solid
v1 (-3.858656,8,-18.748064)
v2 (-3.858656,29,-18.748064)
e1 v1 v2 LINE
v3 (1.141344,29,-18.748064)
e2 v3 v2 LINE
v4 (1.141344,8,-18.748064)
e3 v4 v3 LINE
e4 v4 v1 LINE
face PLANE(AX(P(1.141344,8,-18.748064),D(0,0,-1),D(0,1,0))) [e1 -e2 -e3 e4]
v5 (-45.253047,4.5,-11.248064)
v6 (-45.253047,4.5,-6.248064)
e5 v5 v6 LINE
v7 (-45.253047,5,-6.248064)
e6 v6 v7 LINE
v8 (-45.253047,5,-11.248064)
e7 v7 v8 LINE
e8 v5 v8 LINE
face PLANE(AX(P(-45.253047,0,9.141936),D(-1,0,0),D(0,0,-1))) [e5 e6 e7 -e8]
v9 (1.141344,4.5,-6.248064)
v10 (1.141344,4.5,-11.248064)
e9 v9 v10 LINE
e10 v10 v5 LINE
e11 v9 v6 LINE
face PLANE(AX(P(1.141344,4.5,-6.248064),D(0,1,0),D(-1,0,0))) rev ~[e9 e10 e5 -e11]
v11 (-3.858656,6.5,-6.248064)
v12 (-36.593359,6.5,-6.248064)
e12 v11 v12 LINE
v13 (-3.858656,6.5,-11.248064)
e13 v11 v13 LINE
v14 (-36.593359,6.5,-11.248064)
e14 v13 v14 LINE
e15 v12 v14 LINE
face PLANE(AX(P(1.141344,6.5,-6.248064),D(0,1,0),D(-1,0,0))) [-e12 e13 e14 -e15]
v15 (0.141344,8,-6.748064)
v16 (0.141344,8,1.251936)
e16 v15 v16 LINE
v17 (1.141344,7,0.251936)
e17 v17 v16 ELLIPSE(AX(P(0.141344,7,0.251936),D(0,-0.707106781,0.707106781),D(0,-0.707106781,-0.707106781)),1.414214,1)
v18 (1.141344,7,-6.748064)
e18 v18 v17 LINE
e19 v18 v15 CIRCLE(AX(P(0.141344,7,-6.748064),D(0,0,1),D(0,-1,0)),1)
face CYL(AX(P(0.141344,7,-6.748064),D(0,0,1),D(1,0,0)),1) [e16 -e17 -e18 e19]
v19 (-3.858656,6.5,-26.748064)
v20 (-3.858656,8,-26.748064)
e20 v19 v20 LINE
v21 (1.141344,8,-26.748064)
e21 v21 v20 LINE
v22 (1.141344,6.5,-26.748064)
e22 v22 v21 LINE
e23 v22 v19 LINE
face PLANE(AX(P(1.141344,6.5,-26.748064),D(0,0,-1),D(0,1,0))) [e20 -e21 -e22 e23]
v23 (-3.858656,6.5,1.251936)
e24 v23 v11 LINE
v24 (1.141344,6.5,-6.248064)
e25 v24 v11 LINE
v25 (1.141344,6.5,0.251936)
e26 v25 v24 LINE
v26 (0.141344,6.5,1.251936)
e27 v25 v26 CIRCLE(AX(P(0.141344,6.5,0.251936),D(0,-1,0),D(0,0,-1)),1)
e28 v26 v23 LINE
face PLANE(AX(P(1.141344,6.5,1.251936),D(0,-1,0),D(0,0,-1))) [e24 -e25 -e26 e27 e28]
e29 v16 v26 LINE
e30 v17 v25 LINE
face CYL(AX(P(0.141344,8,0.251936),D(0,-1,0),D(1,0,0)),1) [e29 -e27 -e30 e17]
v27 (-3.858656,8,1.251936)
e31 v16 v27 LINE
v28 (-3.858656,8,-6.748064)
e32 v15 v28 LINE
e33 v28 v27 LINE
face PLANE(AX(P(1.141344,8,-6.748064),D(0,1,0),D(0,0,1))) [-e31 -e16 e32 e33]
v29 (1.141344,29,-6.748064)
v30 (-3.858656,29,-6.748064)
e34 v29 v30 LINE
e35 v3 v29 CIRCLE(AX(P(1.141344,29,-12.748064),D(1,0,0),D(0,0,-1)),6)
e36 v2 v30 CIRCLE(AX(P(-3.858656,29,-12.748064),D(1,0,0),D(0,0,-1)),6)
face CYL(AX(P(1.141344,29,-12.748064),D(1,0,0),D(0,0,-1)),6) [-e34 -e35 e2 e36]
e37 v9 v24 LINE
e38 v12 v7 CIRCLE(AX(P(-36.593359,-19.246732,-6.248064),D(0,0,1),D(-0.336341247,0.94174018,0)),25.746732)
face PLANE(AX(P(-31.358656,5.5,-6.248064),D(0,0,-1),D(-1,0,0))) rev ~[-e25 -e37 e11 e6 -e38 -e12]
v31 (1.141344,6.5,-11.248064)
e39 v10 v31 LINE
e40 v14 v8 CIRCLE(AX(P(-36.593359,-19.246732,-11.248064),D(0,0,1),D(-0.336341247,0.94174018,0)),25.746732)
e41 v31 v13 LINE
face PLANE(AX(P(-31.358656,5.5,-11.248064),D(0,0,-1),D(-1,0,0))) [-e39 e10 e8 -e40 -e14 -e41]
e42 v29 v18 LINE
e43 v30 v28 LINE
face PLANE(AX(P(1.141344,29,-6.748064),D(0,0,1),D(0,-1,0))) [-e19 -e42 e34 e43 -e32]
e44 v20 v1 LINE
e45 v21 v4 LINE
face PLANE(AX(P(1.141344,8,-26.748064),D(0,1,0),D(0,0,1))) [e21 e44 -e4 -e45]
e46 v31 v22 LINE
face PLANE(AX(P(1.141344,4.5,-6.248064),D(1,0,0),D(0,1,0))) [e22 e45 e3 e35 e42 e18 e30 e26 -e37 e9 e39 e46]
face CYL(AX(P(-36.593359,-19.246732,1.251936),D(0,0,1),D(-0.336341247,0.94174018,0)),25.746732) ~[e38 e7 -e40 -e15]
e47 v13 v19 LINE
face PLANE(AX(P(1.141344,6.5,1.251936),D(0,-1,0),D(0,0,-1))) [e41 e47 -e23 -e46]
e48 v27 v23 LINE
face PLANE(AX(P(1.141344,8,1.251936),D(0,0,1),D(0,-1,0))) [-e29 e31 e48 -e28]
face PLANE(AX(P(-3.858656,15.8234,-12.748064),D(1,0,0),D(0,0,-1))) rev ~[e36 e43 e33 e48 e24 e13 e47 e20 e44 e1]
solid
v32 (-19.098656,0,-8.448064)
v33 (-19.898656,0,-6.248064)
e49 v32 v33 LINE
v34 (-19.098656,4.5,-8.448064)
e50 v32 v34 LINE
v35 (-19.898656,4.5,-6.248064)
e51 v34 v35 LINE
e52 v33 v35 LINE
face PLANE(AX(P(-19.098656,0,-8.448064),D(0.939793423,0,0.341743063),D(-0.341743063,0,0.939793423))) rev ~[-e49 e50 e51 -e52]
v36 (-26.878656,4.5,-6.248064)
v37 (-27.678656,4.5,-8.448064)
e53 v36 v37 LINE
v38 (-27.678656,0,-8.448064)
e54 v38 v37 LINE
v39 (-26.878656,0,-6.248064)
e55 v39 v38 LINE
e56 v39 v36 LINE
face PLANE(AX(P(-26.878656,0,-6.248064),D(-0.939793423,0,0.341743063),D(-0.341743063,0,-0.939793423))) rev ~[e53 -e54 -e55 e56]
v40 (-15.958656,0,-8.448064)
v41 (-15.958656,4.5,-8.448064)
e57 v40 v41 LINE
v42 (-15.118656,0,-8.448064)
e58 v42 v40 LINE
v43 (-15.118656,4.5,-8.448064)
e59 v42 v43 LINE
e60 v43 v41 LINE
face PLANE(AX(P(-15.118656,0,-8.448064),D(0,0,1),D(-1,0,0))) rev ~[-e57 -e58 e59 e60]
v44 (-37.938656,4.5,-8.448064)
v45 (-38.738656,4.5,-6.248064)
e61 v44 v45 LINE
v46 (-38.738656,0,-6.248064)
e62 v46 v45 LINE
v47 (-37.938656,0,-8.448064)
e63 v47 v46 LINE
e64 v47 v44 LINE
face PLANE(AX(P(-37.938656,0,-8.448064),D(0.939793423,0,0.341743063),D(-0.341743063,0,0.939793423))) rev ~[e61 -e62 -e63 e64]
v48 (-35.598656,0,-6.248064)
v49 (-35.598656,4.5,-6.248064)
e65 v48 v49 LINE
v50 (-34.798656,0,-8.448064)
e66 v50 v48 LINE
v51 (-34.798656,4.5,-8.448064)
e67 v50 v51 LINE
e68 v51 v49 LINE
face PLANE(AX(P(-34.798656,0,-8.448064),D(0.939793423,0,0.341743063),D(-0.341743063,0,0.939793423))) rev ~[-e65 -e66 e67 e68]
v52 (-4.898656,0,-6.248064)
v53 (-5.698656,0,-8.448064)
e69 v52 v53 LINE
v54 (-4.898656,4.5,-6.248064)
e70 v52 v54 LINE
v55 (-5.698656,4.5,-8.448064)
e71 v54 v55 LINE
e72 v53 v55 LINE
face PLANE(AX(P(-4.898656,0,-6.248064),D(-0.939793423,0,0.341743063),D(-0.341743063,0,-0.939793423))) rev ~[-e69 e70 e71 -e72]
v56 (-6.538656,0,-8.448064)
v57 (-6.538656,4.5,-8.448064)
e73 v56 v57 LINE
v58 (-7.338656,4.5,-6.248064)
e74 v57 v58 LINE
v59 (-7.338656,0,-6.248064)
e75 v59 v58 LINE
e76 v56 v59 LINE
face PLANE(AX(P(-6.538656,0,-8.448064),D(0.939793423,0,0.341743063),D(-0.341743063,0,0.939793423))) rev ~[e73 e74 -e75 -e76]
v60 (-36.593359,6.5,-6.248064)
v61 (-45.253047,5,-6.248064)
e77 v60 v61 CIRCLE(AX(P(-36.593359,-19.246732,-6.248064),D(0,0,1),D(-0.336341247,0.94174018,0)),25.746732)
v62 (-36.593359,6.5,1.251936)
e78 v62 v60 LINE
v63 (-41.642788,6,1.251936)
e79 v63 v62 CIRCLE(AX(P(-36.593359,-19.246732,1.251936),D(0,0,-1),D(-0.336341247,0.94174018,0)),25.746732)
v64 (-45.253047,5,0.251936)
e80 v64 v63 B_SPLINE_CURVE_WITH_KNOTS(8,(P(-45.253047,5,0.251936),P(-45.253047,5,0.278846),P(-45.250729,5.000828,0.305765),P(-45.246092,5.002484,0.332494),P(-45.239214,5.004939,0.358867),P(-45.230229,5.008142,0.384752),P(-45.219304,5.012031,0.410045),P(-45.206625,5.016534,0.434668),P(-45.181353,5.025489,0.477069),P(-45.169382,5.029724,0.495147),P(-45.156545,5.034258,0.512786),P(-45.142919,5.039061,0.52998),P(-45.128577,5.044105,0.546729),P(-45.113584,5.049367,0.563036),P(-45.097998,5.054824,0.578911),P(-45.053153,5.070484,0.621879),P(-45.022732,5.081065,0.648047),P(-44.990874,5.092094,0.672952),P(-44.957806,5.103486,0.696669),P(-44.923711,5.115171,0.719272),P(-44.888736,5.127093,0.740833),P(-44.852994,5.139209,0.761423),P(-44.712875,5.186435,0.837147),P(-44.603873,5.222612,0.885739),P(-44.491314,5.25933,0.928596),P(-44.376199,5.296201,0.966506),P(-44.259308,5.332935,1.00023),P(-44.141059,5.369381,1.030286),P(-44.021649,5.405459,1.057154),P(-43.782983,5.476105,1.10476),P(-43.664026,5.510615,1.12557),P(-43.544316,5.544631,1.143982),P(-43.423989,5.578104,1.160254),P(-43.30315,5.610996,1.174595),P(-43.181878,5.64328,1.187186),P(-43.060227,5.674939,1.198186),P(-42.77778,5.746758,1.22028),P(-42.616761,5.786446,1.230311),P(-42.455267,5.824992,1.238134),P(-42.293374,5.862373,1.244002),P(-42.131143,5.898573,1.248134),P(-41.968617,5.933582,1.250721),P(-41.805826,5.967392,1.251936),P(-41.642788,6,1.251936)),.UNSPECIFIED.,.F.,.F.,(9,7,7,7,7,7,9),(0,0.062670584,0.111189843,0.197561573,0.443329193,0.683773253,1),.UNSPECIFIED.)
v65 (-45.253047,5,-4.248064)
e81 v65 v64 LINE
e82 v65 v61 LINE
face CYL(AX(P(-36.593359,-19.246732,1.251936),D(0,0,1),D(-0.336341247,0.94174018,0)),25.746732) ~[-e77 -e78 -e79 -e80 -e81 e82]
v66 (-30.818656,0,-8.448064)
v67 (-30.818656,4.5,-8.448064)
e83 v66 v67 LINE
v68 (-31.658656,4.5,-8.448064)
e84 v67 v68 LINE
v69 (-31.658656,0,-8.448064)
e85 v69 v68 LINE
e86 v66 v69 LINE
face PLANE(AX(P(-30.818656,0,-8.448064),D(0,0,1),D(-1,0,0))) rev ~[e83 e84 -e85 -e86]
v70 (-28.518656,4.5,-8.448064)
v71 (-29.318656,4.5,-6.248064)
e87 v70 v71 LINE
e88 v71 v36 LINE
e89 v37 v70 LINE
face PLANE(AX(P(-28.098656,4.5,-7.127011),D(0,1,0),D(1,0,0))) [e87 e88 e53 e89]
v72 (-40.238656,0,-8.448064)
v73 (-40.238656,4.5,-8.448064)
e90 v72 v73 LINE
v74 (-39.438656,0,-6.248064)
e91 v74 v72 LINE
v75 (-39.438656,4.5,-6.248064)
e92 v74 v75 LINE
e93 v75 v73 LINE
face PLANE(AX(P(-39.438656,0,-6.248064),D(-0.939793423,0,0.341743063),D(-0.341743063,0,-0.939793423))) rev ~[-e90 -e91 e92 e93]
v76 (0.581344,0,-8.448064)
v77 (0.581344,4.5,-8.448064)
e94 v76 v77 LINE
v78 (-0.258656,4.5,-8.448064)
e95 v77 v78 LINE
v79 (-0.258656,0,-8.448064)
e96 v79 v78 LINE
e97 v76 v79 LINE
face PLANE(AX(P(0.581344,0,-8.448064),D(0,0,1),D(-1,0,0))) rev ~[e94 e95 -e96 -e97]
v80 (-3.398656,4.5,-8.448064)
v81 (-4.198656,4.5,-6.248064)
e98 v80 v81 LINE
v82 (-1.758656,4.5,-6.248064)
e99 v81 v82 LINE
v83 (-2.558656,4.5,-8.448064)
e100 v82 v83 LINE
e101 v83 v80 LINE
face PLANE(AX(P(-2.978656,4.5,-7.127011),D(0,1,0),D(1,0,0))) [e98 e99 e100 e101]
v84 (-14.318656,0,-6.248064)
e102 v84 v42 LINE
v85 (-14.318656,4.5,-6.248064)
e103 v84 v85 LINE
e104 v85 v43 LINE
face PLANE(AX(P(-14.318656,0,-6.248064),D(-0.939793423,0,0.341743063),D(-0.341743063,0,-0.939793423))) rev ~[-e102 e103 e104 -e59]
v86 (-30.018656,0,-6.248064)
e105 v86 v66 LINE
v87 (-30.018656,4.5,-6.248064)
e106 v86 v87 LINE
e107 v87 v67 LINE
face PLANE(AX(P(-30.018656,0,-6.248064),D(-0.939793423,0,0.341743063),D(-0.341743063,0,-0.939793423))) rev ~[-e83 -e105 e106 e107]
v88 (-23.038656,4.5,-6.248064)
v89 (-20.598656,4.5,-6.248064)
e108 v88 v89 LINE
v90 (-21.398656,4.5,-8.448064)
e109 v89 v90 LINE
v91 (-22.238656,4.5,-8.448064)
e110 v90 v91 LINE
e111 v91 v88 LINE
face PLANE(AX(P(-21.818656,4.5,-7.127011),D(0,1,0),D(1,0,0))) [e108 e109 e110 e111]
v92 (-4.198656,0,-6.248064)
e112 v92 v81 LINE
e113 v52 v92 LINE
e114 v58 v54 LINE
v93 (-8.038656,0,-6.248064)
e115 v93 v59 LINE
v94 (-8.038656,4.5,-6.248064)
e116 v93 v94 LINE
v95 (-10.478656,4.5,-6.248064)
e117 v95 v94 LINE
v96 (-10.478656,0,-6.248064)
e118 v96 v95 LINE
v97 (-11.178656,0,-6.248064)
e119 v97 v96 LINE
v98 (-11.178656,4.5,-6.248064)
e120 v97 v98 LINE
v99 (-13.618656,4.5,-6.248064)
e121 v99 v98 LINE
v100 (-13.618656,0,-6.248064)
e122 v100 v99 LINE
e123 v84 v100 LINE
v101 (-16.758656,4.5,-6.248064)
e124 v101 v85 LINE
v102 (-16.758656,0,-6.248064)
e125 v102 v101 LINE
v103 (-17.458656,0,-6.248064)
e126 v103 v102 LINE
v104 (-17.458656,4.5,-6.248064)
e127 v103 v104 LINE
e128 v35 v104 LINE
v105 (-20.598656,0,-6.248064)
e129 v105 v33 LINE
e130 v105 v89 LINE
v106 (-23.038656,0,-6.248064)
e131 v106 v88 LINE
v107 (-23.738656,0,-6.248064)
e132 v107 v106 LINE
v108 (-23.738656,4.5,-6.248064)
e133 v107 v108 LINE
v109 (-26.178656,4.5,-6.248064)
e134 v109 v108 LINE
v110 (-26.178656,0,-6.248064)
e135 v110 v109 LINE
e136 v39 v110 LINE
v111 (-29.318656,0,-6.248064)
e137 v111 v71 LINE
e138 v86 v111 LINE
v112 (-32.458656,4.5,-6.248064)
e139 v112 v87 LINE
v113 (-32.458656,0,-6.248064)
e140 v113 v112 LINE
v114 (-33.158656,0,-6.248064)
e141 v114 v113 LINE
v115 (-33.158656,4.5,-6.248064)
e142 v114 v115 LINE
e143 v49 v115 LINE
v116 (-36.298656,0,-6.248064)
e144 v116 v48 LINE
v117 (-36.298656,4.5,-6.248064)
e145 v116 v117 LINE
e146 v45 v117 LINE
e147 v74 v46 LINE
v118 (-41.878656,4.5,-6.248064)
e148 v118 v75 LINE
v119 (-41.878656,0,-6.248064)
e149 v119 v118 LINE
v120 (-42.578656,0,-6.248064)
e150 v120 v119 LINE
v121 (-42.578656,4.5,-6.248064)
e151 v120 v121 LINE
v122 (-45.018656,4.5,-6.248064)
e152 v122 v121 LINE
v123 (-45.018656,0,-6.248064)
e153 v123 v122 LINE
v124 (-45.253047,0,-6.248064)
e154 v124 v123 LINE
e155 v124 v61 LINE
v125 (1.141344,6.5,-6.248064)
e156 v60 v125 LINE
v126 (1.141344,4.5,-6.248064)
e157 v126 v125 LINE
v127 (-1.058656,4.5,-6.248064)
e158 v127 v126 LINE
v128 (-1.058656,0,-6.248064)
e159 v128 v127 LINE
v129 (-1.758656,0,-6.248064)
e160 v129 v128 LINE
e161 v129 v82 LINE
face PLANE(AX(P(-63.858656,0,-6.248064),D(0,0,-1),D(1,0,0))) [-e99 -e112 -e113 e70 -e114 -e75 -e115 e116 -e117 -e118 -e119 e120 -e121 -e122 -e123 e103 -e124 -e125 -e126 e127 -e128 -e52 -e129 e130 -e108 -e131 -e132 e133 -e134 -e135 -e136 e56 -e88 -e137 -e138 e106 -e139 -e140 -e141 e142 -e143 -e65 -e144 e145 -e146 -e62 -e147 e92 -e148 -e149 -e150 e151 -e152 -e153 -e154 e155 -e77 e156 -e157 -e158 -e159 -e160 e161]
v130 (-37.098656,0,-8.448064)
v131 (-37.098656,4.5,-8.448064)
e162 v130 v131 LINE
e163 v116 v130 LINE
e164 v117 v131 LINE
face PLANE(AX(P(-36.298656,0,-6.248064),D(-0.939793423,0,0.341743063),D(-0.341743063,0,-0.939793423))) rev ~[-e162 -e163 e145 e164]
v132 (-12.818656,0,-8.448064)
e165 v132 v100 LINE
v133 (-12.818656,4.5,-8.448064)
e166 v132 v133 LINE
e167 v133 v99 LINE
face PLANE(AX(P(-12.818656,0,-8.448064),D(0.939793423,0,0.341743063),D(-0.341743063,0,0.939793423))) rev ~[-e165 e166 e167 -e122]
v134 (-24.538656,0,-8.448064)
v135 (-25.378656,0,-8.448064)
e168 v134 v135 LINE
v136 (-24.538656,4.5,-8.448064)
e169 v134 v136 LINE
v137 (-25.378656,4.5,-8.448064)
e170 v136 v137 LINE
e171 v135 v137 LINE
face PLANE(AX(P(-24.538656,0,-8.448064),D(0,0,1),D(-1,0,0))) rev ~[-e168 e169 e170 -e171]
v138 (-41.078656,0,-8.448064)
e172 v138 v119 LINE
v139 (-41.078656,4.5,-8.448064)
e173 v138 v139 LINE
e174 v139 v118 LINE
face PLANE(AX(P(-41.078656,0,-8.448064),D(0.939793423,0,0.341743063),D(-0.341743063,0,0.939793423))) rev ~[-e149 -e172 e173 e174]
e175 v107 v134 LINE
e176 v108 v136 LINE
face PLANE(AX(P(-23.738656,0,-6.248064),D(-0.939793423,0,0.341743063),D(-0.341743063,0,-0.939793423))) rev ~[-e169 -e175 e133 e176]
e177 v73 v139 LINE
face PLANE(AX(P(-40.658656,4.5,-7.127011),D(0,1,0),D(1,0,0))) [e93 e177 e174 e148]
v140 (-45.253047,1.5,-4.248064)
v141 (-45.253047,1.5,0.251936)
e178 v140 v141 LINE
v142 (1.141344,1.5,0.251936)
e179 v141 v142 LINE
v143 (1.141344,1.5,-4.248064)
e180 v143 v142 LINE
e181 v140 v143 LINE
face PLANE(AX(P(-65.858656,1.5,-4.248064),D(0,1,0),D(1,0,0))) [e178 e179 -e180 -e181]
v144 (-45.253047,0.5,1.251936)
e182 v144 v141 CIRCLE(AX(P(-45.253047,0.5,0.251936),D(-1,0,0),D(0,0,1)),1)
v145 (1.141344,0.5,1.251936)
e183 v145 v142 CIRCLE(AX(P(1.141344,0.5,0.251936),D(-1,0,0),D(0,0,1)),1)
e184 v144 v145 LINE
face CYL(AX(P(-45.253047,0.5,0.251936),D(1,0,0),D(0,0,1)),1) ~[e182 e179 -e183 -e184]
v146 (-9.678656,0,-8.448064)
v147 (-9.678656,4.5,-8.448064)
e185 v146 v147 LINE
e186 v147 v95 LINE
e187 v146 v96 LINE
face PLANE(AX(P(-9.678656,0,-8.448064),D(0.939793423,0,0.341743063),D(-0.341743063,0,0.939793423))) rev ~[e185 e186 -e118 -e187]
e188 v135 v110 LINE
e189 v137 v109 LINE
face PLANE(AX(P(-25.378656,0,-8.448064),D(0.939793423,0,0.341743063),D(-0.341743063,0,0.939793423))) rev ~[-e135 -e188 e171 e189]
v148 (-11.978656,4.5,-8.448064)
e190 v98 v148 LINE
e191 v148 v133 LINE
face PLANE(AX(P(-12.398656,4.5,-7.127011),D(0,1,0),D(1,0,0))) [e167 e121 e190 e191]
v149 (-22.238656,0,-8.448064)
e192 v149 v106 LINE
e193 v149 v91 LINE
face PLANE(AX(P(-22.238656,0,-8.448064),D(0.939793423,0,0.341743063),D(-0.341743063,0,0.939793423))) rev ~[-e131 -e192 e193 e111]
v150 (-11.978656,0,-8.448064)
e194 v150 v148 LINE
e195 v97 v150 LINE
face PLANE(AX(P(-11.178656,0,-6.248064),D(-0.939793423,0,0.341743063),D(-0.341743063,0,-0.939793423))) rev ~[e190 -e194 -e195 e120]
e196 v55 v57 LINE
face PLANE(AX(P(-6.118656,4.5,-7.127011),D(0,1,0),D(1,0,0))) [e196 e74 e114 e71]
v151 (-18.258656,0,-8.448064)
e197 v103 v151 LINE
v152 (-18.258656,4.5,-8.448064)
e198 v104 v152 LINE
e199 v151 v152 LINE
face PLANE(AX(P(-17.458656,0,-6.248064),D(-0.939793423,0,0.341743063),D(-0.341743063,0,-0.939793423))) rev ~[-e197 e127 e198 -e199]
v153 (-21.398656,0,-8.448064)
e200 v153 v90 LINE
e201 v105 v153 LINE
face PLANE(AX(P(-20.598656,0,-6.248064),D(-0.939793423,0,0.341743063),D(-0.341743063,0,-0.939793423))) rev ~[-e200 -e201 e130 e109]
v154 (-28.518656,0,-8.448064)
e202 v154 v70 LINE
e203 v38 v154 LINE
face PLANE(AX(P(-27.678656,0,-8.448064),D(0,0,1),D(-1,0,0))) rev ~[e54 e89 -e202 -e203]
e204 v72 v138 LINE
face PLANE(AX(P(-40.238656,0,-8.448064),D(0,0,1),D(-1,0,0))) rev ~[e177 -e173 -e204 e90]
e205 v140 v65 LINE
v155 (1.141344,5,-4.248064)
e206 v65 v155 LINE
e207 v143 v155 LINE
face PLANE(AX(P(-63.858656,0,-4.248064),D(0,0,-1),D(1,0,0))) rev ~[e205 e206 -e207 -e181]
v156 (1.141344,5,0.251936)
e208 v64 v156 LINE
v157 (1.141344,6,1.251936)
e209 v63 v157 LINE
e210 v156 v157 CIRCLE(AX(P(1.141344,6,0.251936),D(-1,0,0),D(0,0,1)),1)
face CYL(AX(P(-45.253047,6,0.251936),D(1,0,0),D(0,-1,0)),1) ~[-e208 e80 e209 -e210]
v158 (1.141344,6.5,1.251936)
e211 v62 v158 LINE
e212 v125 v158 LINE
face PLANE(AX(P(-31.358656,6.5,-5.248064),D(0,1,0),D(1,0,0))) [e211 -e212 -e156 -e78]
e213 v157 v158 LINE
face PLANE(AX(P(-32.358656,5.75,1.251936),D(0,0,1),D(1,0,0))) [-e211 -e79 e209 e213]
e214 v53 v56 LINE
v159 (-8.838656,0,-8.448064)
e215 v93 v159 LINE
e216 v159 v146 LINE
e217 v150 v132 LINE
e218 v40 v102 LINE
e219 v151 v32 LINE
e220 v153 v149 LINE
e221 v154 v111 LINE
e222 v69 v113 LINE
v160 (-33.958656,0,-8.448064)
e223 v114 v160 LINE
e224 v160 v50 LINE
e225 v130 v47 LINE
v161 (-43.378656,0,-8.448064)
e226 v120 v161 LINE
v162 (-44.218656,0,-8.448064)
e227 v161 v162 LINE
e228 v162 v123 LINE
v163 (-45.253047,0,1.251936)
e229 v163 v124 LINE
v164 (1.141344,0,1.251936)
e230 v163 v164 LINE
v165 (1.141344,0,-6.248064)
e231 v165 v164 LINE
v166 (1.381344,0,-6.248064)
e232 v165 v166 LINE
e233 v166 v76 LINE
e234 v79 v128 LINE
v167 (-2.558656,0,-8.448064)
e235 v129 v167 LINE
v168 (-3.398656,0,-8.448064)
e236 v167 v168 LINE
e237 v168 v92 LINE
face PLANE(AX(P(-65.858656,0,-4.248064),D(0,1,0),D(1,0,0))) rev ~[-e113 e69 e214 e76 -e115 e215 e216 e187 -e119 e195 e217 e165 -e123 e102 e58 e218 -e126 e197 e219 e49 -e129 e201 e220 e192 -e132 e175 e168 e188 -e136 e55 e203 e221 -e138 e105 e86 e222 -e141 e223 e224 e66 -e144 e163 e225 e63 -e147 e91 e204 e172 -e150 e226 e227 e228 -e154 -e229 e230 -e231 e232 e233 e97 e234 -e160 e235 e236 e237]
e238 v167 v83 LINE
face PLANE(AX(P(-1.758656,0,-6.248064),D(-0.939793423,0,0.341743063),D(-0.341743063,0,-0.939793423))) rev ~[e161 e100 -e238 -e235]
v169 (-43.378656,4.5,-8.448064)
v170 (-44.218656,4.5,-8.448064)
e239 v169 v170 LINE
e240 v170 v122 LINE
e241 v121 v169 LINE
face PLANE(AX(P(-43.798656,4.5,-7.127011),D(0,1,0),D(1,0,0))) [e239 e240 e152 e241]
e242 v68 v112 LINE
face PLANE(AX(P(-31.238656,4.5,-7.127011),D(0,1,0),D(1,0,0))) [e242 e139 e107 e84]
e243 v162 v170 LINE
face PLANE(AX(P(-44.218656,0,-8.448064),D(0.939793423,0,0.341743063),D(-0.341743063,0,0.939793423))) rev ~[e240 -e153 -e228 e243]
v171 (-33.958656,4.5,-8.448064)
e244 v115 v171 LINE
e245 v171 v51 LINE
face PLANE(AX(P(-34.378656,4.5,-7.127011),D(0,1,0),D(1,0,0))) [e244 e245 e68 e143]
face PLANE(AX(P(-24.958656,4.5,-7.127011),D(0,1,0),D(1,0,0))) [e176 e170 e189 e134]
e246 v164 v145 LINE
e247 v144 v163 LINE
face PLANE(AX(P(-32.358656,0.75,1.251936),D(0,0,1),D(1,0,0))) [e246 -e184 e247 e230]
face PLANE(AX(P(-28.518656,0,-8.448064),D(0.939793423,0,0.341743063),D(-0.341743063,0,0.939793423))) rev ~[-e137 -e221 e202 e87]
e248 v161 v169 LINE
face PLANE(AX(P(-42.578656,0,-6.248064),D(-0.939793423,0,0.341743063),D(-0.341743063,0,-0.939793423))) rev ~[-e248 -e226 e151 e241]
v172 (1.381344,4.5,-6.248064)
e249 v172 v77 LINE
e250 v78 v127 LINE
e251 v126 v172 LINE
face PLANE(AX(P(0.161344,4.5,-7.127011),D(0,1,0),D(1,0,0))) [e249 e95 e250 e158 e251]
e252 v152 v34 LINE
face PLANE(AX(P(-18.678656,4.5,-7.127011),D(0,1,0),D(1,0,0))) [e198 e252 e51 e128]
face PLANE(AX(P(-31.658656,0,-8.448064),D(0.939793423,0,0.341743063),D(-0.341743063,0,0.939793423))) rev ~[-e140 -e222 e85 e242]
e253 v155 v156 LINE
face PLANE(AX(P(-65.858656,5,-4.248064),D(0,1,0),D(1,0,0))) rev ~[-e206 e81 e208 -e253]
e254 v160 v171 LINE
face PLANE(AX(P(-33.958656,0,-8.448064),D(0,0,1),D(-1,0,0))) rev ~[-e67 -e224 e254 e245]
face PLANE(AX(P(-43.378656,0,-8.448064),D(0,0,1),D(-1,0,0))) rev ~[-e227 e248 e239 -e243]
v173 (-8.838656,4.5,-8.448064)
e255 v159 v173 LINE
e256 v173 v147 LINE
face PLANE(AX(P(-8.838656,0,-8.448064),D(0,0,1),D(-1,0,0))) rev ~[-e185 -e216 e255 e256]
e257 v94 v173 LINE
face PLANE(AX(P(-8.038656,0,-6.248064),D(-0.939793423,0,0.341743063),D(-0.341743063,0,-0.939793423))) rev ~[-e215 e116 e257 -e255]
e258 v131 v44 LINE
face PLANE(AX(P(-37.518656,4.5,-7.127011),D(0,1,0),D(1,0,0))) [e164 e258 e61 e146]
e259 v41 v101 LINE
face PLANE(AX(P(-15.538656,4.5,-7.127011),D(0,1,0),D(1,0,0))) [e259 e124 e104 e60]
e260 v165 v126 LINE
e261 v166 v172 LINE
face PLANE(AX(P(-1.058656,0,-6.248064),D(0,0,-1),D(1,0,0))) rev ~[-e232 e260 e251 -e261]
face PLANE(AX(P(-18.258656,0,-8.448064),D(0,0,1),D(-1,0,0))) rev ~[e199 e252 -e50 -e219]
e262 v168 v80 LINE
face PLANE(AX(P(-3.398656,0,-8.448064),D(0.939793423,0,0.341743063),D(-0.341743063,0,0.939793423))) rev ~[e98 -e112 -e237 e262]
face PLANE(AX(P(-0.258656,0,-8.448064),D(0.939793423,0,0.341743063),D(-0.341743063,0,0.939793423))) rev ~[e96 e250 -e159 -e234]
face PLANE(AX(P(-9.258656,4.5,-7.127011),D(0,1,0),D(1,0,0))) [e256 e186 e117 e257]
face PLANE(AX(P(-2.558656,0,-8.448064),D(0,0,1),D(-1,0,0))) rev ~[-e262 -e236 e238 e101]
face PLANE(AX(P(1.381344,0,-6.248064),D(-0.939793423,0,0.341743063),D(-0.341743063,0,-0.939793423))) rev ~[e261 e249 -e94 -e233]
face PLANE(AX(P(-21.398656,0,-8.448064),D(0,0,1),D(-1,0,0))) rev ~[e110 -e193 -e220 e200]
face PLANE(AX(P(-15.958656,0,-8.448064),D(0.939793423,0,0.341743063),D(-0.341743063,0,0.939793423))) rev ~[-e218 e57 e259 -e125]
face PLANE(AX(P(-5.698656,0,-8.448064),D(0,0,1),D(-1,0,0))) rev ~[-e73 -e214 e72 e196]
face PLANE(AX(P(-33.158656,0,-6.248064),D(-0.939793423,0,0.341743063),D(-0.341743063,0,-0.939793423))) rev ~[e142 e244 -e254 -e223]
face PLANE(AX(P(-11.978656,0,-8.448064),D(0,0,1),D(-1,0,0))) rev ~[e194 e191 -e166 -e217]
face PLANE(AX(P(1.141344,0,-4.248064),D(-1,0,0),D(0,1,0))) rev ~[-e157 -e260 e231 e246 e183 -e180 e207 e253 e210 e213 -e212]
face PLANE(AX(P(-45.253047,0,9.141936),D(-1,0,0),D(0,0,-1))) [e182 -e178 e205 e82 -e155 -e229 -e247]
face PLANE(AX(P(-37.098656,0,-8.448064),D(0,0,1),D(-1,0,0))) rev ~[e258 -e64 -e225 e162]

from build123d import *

# Parameters (mm, degrees)
SKETCH1_W           = 65
SKETCH1_H           = 2
BOSS_EXTRUDE1_DEPTH = 6.5
BOSS_EXTRUDE2_DEPTH = 4.5
SKETCH5_W           = 67
SKETCH5_H           = 1.5
BOSS_EXTRUDE6_DEPTH = 5.5
BOSS_EXTRUDE7_DEPTH = 5
SKETCH7_W           = 65
SKETCH7_H           = 2
BOSS_EXTRUDE8_DEPTH = 5
SKETCH8_W           = 31.428674942
SKETCH8_H           = 29.09091251
CUT_EXTRUDE1_DEPTH  = 80.232704839
CUT_EXTRUDE2_DEPTH  = 64.693313851
FILLET5_R           = 1
FILLET7_R           = 1


with BuildPart() as part:
    # Sketch1 → Boss-Extrude1 (new body)
    with BuildSketch(Plane(origin=(0, 0, 0), x_dir=(1, 0, 0), z_dir=(0, 1, 0))):
        with Locations((-31.358656154, 5.24806396)):
            Rectangle(SKETCH1_W, SKETCH1_H)
    extrude(amount=BOSS_EXTRUDE1_DEPTH)

    # Sketch2 → Boss-Extrude2 (add)
    with BuildSketch(Plane(origin=(0, 0, 0), x_dir=(1, 0, 0), z_dir=(0, 1, 0))):
        Polygon((-63.058656154, 8.44806396), (-63.858656154, 6.24806396), (-61.418656154, 6.24806396), (-62.218656154, 8.44806396), align=None)
        Polygon((-59.918656154, 8.44806396), (-60.718656154, 6.24806396), (-58.278656154, 6.24806396), (-59.078656154, 8.44806396), align=None)
        Polygon((-56.778656154, 8.44806396), (-57.578656154, 6.24806396), (-55.138656154, 6.24806396), (-55.938656154, 8.44806396), align=None)
        Polygon((-53.638656154, 8.44806396), (-54.438656154, 6.24806396), (-51.998656154, 6.24806396), (-52.798656154, 8.44806396), align=None)
        Polygon((-50.498656154, 8.44806396), (-51.298656154, 6.24806396), (-48.858656154, 6.24806396), (-49.658656154, 8.44806396), align=None)
        Polygon((-47.358656154, 8.44806396), (-48.158656154, 6.24806396), (-45.718656154, 6.24806396), (-46.518656154, 8.44806396), align=None)
        Polygon((-44.218656154, 8.44806396), (-45.018656154, 6.24806396), (-42.578656154, 6.24806396), (-43.378656154, 8.44806396), align=None)
        Polygon((-41.078656154, 8.44806396), (-41.878656154, 6.24806396), (-39.438656154, 6.24806396), (-40.238656154, 8.44806396), align=None)
        Polygon((-37.938656154, 8.44806396), (-38.738656154, 6.24806396), (-36.298656154, 6.24806396), (-37.098656154, 8.44806396), align=None)
        Polygon((-34.798656154, 8.44806396), (-35.598656154, 6.24806396), (-33.158656154, 6.24806396), (-33.958656154, 8.44806396), align=None)
        Polygon((-31.658656154, 8.44806396), (-32.458656154, 6.24806396), (-30.018656154, 6.24806396), (-30.818656154, 8.44806396), align=None)
        Polygon((-29.318656154, 6.24806396), (-26.878656154, 6.24806396), (-27.678656154, 8.44806396), (-28.518656154, 8.44806396), align=None)
        Polygon((-26.178656154, 6.24806396), (-23.738656154, 6.24806396), (-24.538656154, 8.44806396), (-25.378656154, 8.44806396), align=None)
        Polygon((-23.038656154, 6.24806396), (-20.598656154, 6.24806396), (-21.398656154, 8.44806396), (-22.238656154, 8.44806396), align=None)
        Polygon((-19.898656154, 6.24806396), (-17.458656154, 6.24806396), (-18.258656154, 8.44806396), (-19.098656154, 8.44806396), align=None)
        Polygon((-16.758656154, 6.24806396), (-14.318656154, 6.24806396), (-15.118656154, 8.44806396), (-15.958656154, 8.44806396), align=None)
        Polygon((-13.618656154, 6.24806396), (-11.178656154, 6.24806396), (-11.978656154, 8.44806396), (-12.818656154, 8.44806396), align=None)
        Polygon((-10.478656154, 6.24806396), (-8.038656154, 6.24806396), (-8.838656154, 8.44806396), (-9.678656154, 8.44806396), align=None)
        Polygon((-7.338656154, 6.24806396), (-4.898656154, 6.24806396), (-5.698656154, 8.44806396), (-6.538656154, 8.44806396), align=None)
        Polygon((-4.198656154, 6.24806396), (-1.758656154, 6.24806396), (-2.558656154, 8.44806396), (-3.398656154, 8.44806396), align=None)
        Polygon((-3.398656154, 8.44806396), (-4.198656154, 6.24806396), (-1.758656154, 6.24806396), (-2.558656154, 8.44806396), align=None)
        Polygon((-0.258656154, 8.44806396), (-1.058656154, 6.24806396), (1.141343846, 6.24806396), (1.381343846, 6.24806396), (0.581343846, 8.44806396), align=None)
        Polygon((-6.538656154, 8.44806396), (-7.338656154, 6.24806396), (-4.898656154, 6.24806396), (-5.698656154, 8.44806396), align=None)
        Polygon((-9.678656154, 8.44806396), (-10.478656154, 6.24806396), (-8.038656154, 6.24806396), (-8.838656154, 8.44806396), align=None)
        Polygon((-12.818656154, 8.44806396), (-13.618656154, 6.24806396), (-11.178656154, 6.24806396), (-11.978656154, 8.44806396), align=None)
        Polygon((-15.958656154, 8.44806396), (-16.758656154, 6.24806396), (-14.318656154, 6.24806396), (-15.118656154, 8.44806396), align=None)
        Polygon((-19.098656154, 8.44806396), (-19.898656154, 6.24806396), (-17.458656154, 6.24806396), (-18.258656154, 8.44806396), align=None)
        Polygon((-22.238656154, 8.44806396), (-23.038656154, 6.24806396), (-20.598656154, 6.24806396), (-21.398656154, 8.44806396), align=None)
        Polygon((-25.378656154, 8.44806396), (-26.178656154, 6.24806396), (-23.738656154, 6.24806396), (-24.538656154, 8.44806396), align=None)
        Polygon((-28.518656154, 8.44806396), (-29.318656154, 6.24806396), (-26.878656154, 6.24806396), (-27.678656154, 8.44806396), align=None)
    extrude(amount=BOSS_EXTRUDE2_DEPTH)

    # Sketch5 → Boss-Extrude6 (add)
    with BuildSketch(Plane.XY.offset(-4.24806396)):
        with Locations((-32.358656154, 0.75)):
            Rectangle(SKETCH5_W, SKETCH5_H)
        with Locations((-32.358656154, 5.75)):
            Rectangle(SKETCH5_W, SKETCH5_H)
    extrude(amount=BOSS_EXTRUDE6_DEPTH)


with BuildPart() as body_2:
    # Sketch6 → Boss-Extrude7 (new body)
    with BuildSketch(Plane(origin=(1.141343846, 0, 0), x_dir=(0, 0, -1), z_dir=(1, 0, 0))):
        with BuildLine():
            Line((-1.25193604, 6.5), (6.24806396, 6.5))
            Line((6.24806396, 6.5), (26.74806396, 6.5))
            Line((26.74806396, 6.5), (26.74806396, 8))
            Line((26.74806396, 8), (18.74806396, 8))
            Line((18.74806396, 8), (18.74806396, 29))
            ThreePointArc((18.74806396, 29), (12.74806396, 35), (6.74806396, 29))
            Line((6.74806396, 29), (6.74806396, 8))
            Line((6.74806396, 8), (-1.25193604, 8))
            Line((-1.25193604, 8), (-1.25193604, 6.5))
        make_face()
    extrude(amount=-BOSS_EXTRUDE7_DEPTH)

    # Sketch7 → Boss-Extrude8 (add)
    with BuildSketch(Plane(origin=(0, 0, -6.24806396), x_dir=(-1, 0, 0), z_dir=(0, 0, -1))):
        with Locations((31.358656154, 5.5)):
            Rectangle(SKETCH7_W, SKETCH7_H)
    extrude(amount=BOSS_EXTRUDE8_DEPTH)


with BuildPart() as cut_extrude1_tool:
    # Sketch8 → Cut-Extrude1 (new, through all)
    with BuildSketch(Plane(origin=(0, 0, 0), x_dir=(-1, 0, 0), z_dir=(0, -1, 0))):
        with Locations((60.967384102, 5.403519831)):
            Rectangle(SKETCH8_W, SKETCH8_H)
    extrude(amount=-CUT_EXTRUDE1_DEPTH)


with BuildPart() as part_1:
    add(part.part)

    # Cut-Extrude1: cut by cut_extrude1_tool
    add(cut_extrude1_tool.part, mode=Mode.SUBTRACT)


with BuildPart() as body_2_1:
    add(body_2.part)

    # Cut-Extrude1: cut by cut_extrude1_tool
    add(cut_extrude1_tool.part, mode=Mode.SUBTRACT)


with BuildPart() as cut_extrude2_tool:
    # Sketch10 → Cut-Extrude2 (new, through all)
    with BuildSketch(Plane.XY.offset(1.25193604)):
        with BuildLine():
            Line((-45.253046631, 6.5), (-45.253046631, 5))
            ThreePointArc((-45.253046631, 5), (-40.987678702, 6.122228556), (-36.593358591, 6.5))
            Line((-36.593358591, 6.5), (-45.253046631, 6.5))
        make_face()
    extrude(amount=-CUT_EXTRUDE2_DEPTH)


with BuildPart() as part_2:
    add(part_1.part)

    # Cut-Extrude2: cut by cut_extrude2_tool
    add(cut_extrude2_tool.part, mode=Mode.SUBTRACT)

    # Fillet7
    fillet7_edges = [part_2.edges().sort_by_distance(p)[0] for p in [
        (-22.055851393, 5, 1.25193604),
        (-22.055851393, 1.5, 1.25193604),
    ]]
    fillet(fillet7_edges, radius=FILLET7_R)


with BuildPart() as body_2_2:
    add(body_2_1.part)

    # Cut-Extrude2: cut by cut_extrude2_tool
    add(cut_extrude2_tool.part, mode=Mode.SUBTRACT)

    # Fillet5
    fillet5_edges = [body_2_2.edges().sort_by_distance(p)[0] for p in [
        (1.141343846, 7.25, 1.25193604),
        (1.141343846, 8, -2.74806396),
    ]]
    fillet(fillet5_edges, radius=FILLET5_R)


solid = Compound([part_2.part, body_2_2.part])
